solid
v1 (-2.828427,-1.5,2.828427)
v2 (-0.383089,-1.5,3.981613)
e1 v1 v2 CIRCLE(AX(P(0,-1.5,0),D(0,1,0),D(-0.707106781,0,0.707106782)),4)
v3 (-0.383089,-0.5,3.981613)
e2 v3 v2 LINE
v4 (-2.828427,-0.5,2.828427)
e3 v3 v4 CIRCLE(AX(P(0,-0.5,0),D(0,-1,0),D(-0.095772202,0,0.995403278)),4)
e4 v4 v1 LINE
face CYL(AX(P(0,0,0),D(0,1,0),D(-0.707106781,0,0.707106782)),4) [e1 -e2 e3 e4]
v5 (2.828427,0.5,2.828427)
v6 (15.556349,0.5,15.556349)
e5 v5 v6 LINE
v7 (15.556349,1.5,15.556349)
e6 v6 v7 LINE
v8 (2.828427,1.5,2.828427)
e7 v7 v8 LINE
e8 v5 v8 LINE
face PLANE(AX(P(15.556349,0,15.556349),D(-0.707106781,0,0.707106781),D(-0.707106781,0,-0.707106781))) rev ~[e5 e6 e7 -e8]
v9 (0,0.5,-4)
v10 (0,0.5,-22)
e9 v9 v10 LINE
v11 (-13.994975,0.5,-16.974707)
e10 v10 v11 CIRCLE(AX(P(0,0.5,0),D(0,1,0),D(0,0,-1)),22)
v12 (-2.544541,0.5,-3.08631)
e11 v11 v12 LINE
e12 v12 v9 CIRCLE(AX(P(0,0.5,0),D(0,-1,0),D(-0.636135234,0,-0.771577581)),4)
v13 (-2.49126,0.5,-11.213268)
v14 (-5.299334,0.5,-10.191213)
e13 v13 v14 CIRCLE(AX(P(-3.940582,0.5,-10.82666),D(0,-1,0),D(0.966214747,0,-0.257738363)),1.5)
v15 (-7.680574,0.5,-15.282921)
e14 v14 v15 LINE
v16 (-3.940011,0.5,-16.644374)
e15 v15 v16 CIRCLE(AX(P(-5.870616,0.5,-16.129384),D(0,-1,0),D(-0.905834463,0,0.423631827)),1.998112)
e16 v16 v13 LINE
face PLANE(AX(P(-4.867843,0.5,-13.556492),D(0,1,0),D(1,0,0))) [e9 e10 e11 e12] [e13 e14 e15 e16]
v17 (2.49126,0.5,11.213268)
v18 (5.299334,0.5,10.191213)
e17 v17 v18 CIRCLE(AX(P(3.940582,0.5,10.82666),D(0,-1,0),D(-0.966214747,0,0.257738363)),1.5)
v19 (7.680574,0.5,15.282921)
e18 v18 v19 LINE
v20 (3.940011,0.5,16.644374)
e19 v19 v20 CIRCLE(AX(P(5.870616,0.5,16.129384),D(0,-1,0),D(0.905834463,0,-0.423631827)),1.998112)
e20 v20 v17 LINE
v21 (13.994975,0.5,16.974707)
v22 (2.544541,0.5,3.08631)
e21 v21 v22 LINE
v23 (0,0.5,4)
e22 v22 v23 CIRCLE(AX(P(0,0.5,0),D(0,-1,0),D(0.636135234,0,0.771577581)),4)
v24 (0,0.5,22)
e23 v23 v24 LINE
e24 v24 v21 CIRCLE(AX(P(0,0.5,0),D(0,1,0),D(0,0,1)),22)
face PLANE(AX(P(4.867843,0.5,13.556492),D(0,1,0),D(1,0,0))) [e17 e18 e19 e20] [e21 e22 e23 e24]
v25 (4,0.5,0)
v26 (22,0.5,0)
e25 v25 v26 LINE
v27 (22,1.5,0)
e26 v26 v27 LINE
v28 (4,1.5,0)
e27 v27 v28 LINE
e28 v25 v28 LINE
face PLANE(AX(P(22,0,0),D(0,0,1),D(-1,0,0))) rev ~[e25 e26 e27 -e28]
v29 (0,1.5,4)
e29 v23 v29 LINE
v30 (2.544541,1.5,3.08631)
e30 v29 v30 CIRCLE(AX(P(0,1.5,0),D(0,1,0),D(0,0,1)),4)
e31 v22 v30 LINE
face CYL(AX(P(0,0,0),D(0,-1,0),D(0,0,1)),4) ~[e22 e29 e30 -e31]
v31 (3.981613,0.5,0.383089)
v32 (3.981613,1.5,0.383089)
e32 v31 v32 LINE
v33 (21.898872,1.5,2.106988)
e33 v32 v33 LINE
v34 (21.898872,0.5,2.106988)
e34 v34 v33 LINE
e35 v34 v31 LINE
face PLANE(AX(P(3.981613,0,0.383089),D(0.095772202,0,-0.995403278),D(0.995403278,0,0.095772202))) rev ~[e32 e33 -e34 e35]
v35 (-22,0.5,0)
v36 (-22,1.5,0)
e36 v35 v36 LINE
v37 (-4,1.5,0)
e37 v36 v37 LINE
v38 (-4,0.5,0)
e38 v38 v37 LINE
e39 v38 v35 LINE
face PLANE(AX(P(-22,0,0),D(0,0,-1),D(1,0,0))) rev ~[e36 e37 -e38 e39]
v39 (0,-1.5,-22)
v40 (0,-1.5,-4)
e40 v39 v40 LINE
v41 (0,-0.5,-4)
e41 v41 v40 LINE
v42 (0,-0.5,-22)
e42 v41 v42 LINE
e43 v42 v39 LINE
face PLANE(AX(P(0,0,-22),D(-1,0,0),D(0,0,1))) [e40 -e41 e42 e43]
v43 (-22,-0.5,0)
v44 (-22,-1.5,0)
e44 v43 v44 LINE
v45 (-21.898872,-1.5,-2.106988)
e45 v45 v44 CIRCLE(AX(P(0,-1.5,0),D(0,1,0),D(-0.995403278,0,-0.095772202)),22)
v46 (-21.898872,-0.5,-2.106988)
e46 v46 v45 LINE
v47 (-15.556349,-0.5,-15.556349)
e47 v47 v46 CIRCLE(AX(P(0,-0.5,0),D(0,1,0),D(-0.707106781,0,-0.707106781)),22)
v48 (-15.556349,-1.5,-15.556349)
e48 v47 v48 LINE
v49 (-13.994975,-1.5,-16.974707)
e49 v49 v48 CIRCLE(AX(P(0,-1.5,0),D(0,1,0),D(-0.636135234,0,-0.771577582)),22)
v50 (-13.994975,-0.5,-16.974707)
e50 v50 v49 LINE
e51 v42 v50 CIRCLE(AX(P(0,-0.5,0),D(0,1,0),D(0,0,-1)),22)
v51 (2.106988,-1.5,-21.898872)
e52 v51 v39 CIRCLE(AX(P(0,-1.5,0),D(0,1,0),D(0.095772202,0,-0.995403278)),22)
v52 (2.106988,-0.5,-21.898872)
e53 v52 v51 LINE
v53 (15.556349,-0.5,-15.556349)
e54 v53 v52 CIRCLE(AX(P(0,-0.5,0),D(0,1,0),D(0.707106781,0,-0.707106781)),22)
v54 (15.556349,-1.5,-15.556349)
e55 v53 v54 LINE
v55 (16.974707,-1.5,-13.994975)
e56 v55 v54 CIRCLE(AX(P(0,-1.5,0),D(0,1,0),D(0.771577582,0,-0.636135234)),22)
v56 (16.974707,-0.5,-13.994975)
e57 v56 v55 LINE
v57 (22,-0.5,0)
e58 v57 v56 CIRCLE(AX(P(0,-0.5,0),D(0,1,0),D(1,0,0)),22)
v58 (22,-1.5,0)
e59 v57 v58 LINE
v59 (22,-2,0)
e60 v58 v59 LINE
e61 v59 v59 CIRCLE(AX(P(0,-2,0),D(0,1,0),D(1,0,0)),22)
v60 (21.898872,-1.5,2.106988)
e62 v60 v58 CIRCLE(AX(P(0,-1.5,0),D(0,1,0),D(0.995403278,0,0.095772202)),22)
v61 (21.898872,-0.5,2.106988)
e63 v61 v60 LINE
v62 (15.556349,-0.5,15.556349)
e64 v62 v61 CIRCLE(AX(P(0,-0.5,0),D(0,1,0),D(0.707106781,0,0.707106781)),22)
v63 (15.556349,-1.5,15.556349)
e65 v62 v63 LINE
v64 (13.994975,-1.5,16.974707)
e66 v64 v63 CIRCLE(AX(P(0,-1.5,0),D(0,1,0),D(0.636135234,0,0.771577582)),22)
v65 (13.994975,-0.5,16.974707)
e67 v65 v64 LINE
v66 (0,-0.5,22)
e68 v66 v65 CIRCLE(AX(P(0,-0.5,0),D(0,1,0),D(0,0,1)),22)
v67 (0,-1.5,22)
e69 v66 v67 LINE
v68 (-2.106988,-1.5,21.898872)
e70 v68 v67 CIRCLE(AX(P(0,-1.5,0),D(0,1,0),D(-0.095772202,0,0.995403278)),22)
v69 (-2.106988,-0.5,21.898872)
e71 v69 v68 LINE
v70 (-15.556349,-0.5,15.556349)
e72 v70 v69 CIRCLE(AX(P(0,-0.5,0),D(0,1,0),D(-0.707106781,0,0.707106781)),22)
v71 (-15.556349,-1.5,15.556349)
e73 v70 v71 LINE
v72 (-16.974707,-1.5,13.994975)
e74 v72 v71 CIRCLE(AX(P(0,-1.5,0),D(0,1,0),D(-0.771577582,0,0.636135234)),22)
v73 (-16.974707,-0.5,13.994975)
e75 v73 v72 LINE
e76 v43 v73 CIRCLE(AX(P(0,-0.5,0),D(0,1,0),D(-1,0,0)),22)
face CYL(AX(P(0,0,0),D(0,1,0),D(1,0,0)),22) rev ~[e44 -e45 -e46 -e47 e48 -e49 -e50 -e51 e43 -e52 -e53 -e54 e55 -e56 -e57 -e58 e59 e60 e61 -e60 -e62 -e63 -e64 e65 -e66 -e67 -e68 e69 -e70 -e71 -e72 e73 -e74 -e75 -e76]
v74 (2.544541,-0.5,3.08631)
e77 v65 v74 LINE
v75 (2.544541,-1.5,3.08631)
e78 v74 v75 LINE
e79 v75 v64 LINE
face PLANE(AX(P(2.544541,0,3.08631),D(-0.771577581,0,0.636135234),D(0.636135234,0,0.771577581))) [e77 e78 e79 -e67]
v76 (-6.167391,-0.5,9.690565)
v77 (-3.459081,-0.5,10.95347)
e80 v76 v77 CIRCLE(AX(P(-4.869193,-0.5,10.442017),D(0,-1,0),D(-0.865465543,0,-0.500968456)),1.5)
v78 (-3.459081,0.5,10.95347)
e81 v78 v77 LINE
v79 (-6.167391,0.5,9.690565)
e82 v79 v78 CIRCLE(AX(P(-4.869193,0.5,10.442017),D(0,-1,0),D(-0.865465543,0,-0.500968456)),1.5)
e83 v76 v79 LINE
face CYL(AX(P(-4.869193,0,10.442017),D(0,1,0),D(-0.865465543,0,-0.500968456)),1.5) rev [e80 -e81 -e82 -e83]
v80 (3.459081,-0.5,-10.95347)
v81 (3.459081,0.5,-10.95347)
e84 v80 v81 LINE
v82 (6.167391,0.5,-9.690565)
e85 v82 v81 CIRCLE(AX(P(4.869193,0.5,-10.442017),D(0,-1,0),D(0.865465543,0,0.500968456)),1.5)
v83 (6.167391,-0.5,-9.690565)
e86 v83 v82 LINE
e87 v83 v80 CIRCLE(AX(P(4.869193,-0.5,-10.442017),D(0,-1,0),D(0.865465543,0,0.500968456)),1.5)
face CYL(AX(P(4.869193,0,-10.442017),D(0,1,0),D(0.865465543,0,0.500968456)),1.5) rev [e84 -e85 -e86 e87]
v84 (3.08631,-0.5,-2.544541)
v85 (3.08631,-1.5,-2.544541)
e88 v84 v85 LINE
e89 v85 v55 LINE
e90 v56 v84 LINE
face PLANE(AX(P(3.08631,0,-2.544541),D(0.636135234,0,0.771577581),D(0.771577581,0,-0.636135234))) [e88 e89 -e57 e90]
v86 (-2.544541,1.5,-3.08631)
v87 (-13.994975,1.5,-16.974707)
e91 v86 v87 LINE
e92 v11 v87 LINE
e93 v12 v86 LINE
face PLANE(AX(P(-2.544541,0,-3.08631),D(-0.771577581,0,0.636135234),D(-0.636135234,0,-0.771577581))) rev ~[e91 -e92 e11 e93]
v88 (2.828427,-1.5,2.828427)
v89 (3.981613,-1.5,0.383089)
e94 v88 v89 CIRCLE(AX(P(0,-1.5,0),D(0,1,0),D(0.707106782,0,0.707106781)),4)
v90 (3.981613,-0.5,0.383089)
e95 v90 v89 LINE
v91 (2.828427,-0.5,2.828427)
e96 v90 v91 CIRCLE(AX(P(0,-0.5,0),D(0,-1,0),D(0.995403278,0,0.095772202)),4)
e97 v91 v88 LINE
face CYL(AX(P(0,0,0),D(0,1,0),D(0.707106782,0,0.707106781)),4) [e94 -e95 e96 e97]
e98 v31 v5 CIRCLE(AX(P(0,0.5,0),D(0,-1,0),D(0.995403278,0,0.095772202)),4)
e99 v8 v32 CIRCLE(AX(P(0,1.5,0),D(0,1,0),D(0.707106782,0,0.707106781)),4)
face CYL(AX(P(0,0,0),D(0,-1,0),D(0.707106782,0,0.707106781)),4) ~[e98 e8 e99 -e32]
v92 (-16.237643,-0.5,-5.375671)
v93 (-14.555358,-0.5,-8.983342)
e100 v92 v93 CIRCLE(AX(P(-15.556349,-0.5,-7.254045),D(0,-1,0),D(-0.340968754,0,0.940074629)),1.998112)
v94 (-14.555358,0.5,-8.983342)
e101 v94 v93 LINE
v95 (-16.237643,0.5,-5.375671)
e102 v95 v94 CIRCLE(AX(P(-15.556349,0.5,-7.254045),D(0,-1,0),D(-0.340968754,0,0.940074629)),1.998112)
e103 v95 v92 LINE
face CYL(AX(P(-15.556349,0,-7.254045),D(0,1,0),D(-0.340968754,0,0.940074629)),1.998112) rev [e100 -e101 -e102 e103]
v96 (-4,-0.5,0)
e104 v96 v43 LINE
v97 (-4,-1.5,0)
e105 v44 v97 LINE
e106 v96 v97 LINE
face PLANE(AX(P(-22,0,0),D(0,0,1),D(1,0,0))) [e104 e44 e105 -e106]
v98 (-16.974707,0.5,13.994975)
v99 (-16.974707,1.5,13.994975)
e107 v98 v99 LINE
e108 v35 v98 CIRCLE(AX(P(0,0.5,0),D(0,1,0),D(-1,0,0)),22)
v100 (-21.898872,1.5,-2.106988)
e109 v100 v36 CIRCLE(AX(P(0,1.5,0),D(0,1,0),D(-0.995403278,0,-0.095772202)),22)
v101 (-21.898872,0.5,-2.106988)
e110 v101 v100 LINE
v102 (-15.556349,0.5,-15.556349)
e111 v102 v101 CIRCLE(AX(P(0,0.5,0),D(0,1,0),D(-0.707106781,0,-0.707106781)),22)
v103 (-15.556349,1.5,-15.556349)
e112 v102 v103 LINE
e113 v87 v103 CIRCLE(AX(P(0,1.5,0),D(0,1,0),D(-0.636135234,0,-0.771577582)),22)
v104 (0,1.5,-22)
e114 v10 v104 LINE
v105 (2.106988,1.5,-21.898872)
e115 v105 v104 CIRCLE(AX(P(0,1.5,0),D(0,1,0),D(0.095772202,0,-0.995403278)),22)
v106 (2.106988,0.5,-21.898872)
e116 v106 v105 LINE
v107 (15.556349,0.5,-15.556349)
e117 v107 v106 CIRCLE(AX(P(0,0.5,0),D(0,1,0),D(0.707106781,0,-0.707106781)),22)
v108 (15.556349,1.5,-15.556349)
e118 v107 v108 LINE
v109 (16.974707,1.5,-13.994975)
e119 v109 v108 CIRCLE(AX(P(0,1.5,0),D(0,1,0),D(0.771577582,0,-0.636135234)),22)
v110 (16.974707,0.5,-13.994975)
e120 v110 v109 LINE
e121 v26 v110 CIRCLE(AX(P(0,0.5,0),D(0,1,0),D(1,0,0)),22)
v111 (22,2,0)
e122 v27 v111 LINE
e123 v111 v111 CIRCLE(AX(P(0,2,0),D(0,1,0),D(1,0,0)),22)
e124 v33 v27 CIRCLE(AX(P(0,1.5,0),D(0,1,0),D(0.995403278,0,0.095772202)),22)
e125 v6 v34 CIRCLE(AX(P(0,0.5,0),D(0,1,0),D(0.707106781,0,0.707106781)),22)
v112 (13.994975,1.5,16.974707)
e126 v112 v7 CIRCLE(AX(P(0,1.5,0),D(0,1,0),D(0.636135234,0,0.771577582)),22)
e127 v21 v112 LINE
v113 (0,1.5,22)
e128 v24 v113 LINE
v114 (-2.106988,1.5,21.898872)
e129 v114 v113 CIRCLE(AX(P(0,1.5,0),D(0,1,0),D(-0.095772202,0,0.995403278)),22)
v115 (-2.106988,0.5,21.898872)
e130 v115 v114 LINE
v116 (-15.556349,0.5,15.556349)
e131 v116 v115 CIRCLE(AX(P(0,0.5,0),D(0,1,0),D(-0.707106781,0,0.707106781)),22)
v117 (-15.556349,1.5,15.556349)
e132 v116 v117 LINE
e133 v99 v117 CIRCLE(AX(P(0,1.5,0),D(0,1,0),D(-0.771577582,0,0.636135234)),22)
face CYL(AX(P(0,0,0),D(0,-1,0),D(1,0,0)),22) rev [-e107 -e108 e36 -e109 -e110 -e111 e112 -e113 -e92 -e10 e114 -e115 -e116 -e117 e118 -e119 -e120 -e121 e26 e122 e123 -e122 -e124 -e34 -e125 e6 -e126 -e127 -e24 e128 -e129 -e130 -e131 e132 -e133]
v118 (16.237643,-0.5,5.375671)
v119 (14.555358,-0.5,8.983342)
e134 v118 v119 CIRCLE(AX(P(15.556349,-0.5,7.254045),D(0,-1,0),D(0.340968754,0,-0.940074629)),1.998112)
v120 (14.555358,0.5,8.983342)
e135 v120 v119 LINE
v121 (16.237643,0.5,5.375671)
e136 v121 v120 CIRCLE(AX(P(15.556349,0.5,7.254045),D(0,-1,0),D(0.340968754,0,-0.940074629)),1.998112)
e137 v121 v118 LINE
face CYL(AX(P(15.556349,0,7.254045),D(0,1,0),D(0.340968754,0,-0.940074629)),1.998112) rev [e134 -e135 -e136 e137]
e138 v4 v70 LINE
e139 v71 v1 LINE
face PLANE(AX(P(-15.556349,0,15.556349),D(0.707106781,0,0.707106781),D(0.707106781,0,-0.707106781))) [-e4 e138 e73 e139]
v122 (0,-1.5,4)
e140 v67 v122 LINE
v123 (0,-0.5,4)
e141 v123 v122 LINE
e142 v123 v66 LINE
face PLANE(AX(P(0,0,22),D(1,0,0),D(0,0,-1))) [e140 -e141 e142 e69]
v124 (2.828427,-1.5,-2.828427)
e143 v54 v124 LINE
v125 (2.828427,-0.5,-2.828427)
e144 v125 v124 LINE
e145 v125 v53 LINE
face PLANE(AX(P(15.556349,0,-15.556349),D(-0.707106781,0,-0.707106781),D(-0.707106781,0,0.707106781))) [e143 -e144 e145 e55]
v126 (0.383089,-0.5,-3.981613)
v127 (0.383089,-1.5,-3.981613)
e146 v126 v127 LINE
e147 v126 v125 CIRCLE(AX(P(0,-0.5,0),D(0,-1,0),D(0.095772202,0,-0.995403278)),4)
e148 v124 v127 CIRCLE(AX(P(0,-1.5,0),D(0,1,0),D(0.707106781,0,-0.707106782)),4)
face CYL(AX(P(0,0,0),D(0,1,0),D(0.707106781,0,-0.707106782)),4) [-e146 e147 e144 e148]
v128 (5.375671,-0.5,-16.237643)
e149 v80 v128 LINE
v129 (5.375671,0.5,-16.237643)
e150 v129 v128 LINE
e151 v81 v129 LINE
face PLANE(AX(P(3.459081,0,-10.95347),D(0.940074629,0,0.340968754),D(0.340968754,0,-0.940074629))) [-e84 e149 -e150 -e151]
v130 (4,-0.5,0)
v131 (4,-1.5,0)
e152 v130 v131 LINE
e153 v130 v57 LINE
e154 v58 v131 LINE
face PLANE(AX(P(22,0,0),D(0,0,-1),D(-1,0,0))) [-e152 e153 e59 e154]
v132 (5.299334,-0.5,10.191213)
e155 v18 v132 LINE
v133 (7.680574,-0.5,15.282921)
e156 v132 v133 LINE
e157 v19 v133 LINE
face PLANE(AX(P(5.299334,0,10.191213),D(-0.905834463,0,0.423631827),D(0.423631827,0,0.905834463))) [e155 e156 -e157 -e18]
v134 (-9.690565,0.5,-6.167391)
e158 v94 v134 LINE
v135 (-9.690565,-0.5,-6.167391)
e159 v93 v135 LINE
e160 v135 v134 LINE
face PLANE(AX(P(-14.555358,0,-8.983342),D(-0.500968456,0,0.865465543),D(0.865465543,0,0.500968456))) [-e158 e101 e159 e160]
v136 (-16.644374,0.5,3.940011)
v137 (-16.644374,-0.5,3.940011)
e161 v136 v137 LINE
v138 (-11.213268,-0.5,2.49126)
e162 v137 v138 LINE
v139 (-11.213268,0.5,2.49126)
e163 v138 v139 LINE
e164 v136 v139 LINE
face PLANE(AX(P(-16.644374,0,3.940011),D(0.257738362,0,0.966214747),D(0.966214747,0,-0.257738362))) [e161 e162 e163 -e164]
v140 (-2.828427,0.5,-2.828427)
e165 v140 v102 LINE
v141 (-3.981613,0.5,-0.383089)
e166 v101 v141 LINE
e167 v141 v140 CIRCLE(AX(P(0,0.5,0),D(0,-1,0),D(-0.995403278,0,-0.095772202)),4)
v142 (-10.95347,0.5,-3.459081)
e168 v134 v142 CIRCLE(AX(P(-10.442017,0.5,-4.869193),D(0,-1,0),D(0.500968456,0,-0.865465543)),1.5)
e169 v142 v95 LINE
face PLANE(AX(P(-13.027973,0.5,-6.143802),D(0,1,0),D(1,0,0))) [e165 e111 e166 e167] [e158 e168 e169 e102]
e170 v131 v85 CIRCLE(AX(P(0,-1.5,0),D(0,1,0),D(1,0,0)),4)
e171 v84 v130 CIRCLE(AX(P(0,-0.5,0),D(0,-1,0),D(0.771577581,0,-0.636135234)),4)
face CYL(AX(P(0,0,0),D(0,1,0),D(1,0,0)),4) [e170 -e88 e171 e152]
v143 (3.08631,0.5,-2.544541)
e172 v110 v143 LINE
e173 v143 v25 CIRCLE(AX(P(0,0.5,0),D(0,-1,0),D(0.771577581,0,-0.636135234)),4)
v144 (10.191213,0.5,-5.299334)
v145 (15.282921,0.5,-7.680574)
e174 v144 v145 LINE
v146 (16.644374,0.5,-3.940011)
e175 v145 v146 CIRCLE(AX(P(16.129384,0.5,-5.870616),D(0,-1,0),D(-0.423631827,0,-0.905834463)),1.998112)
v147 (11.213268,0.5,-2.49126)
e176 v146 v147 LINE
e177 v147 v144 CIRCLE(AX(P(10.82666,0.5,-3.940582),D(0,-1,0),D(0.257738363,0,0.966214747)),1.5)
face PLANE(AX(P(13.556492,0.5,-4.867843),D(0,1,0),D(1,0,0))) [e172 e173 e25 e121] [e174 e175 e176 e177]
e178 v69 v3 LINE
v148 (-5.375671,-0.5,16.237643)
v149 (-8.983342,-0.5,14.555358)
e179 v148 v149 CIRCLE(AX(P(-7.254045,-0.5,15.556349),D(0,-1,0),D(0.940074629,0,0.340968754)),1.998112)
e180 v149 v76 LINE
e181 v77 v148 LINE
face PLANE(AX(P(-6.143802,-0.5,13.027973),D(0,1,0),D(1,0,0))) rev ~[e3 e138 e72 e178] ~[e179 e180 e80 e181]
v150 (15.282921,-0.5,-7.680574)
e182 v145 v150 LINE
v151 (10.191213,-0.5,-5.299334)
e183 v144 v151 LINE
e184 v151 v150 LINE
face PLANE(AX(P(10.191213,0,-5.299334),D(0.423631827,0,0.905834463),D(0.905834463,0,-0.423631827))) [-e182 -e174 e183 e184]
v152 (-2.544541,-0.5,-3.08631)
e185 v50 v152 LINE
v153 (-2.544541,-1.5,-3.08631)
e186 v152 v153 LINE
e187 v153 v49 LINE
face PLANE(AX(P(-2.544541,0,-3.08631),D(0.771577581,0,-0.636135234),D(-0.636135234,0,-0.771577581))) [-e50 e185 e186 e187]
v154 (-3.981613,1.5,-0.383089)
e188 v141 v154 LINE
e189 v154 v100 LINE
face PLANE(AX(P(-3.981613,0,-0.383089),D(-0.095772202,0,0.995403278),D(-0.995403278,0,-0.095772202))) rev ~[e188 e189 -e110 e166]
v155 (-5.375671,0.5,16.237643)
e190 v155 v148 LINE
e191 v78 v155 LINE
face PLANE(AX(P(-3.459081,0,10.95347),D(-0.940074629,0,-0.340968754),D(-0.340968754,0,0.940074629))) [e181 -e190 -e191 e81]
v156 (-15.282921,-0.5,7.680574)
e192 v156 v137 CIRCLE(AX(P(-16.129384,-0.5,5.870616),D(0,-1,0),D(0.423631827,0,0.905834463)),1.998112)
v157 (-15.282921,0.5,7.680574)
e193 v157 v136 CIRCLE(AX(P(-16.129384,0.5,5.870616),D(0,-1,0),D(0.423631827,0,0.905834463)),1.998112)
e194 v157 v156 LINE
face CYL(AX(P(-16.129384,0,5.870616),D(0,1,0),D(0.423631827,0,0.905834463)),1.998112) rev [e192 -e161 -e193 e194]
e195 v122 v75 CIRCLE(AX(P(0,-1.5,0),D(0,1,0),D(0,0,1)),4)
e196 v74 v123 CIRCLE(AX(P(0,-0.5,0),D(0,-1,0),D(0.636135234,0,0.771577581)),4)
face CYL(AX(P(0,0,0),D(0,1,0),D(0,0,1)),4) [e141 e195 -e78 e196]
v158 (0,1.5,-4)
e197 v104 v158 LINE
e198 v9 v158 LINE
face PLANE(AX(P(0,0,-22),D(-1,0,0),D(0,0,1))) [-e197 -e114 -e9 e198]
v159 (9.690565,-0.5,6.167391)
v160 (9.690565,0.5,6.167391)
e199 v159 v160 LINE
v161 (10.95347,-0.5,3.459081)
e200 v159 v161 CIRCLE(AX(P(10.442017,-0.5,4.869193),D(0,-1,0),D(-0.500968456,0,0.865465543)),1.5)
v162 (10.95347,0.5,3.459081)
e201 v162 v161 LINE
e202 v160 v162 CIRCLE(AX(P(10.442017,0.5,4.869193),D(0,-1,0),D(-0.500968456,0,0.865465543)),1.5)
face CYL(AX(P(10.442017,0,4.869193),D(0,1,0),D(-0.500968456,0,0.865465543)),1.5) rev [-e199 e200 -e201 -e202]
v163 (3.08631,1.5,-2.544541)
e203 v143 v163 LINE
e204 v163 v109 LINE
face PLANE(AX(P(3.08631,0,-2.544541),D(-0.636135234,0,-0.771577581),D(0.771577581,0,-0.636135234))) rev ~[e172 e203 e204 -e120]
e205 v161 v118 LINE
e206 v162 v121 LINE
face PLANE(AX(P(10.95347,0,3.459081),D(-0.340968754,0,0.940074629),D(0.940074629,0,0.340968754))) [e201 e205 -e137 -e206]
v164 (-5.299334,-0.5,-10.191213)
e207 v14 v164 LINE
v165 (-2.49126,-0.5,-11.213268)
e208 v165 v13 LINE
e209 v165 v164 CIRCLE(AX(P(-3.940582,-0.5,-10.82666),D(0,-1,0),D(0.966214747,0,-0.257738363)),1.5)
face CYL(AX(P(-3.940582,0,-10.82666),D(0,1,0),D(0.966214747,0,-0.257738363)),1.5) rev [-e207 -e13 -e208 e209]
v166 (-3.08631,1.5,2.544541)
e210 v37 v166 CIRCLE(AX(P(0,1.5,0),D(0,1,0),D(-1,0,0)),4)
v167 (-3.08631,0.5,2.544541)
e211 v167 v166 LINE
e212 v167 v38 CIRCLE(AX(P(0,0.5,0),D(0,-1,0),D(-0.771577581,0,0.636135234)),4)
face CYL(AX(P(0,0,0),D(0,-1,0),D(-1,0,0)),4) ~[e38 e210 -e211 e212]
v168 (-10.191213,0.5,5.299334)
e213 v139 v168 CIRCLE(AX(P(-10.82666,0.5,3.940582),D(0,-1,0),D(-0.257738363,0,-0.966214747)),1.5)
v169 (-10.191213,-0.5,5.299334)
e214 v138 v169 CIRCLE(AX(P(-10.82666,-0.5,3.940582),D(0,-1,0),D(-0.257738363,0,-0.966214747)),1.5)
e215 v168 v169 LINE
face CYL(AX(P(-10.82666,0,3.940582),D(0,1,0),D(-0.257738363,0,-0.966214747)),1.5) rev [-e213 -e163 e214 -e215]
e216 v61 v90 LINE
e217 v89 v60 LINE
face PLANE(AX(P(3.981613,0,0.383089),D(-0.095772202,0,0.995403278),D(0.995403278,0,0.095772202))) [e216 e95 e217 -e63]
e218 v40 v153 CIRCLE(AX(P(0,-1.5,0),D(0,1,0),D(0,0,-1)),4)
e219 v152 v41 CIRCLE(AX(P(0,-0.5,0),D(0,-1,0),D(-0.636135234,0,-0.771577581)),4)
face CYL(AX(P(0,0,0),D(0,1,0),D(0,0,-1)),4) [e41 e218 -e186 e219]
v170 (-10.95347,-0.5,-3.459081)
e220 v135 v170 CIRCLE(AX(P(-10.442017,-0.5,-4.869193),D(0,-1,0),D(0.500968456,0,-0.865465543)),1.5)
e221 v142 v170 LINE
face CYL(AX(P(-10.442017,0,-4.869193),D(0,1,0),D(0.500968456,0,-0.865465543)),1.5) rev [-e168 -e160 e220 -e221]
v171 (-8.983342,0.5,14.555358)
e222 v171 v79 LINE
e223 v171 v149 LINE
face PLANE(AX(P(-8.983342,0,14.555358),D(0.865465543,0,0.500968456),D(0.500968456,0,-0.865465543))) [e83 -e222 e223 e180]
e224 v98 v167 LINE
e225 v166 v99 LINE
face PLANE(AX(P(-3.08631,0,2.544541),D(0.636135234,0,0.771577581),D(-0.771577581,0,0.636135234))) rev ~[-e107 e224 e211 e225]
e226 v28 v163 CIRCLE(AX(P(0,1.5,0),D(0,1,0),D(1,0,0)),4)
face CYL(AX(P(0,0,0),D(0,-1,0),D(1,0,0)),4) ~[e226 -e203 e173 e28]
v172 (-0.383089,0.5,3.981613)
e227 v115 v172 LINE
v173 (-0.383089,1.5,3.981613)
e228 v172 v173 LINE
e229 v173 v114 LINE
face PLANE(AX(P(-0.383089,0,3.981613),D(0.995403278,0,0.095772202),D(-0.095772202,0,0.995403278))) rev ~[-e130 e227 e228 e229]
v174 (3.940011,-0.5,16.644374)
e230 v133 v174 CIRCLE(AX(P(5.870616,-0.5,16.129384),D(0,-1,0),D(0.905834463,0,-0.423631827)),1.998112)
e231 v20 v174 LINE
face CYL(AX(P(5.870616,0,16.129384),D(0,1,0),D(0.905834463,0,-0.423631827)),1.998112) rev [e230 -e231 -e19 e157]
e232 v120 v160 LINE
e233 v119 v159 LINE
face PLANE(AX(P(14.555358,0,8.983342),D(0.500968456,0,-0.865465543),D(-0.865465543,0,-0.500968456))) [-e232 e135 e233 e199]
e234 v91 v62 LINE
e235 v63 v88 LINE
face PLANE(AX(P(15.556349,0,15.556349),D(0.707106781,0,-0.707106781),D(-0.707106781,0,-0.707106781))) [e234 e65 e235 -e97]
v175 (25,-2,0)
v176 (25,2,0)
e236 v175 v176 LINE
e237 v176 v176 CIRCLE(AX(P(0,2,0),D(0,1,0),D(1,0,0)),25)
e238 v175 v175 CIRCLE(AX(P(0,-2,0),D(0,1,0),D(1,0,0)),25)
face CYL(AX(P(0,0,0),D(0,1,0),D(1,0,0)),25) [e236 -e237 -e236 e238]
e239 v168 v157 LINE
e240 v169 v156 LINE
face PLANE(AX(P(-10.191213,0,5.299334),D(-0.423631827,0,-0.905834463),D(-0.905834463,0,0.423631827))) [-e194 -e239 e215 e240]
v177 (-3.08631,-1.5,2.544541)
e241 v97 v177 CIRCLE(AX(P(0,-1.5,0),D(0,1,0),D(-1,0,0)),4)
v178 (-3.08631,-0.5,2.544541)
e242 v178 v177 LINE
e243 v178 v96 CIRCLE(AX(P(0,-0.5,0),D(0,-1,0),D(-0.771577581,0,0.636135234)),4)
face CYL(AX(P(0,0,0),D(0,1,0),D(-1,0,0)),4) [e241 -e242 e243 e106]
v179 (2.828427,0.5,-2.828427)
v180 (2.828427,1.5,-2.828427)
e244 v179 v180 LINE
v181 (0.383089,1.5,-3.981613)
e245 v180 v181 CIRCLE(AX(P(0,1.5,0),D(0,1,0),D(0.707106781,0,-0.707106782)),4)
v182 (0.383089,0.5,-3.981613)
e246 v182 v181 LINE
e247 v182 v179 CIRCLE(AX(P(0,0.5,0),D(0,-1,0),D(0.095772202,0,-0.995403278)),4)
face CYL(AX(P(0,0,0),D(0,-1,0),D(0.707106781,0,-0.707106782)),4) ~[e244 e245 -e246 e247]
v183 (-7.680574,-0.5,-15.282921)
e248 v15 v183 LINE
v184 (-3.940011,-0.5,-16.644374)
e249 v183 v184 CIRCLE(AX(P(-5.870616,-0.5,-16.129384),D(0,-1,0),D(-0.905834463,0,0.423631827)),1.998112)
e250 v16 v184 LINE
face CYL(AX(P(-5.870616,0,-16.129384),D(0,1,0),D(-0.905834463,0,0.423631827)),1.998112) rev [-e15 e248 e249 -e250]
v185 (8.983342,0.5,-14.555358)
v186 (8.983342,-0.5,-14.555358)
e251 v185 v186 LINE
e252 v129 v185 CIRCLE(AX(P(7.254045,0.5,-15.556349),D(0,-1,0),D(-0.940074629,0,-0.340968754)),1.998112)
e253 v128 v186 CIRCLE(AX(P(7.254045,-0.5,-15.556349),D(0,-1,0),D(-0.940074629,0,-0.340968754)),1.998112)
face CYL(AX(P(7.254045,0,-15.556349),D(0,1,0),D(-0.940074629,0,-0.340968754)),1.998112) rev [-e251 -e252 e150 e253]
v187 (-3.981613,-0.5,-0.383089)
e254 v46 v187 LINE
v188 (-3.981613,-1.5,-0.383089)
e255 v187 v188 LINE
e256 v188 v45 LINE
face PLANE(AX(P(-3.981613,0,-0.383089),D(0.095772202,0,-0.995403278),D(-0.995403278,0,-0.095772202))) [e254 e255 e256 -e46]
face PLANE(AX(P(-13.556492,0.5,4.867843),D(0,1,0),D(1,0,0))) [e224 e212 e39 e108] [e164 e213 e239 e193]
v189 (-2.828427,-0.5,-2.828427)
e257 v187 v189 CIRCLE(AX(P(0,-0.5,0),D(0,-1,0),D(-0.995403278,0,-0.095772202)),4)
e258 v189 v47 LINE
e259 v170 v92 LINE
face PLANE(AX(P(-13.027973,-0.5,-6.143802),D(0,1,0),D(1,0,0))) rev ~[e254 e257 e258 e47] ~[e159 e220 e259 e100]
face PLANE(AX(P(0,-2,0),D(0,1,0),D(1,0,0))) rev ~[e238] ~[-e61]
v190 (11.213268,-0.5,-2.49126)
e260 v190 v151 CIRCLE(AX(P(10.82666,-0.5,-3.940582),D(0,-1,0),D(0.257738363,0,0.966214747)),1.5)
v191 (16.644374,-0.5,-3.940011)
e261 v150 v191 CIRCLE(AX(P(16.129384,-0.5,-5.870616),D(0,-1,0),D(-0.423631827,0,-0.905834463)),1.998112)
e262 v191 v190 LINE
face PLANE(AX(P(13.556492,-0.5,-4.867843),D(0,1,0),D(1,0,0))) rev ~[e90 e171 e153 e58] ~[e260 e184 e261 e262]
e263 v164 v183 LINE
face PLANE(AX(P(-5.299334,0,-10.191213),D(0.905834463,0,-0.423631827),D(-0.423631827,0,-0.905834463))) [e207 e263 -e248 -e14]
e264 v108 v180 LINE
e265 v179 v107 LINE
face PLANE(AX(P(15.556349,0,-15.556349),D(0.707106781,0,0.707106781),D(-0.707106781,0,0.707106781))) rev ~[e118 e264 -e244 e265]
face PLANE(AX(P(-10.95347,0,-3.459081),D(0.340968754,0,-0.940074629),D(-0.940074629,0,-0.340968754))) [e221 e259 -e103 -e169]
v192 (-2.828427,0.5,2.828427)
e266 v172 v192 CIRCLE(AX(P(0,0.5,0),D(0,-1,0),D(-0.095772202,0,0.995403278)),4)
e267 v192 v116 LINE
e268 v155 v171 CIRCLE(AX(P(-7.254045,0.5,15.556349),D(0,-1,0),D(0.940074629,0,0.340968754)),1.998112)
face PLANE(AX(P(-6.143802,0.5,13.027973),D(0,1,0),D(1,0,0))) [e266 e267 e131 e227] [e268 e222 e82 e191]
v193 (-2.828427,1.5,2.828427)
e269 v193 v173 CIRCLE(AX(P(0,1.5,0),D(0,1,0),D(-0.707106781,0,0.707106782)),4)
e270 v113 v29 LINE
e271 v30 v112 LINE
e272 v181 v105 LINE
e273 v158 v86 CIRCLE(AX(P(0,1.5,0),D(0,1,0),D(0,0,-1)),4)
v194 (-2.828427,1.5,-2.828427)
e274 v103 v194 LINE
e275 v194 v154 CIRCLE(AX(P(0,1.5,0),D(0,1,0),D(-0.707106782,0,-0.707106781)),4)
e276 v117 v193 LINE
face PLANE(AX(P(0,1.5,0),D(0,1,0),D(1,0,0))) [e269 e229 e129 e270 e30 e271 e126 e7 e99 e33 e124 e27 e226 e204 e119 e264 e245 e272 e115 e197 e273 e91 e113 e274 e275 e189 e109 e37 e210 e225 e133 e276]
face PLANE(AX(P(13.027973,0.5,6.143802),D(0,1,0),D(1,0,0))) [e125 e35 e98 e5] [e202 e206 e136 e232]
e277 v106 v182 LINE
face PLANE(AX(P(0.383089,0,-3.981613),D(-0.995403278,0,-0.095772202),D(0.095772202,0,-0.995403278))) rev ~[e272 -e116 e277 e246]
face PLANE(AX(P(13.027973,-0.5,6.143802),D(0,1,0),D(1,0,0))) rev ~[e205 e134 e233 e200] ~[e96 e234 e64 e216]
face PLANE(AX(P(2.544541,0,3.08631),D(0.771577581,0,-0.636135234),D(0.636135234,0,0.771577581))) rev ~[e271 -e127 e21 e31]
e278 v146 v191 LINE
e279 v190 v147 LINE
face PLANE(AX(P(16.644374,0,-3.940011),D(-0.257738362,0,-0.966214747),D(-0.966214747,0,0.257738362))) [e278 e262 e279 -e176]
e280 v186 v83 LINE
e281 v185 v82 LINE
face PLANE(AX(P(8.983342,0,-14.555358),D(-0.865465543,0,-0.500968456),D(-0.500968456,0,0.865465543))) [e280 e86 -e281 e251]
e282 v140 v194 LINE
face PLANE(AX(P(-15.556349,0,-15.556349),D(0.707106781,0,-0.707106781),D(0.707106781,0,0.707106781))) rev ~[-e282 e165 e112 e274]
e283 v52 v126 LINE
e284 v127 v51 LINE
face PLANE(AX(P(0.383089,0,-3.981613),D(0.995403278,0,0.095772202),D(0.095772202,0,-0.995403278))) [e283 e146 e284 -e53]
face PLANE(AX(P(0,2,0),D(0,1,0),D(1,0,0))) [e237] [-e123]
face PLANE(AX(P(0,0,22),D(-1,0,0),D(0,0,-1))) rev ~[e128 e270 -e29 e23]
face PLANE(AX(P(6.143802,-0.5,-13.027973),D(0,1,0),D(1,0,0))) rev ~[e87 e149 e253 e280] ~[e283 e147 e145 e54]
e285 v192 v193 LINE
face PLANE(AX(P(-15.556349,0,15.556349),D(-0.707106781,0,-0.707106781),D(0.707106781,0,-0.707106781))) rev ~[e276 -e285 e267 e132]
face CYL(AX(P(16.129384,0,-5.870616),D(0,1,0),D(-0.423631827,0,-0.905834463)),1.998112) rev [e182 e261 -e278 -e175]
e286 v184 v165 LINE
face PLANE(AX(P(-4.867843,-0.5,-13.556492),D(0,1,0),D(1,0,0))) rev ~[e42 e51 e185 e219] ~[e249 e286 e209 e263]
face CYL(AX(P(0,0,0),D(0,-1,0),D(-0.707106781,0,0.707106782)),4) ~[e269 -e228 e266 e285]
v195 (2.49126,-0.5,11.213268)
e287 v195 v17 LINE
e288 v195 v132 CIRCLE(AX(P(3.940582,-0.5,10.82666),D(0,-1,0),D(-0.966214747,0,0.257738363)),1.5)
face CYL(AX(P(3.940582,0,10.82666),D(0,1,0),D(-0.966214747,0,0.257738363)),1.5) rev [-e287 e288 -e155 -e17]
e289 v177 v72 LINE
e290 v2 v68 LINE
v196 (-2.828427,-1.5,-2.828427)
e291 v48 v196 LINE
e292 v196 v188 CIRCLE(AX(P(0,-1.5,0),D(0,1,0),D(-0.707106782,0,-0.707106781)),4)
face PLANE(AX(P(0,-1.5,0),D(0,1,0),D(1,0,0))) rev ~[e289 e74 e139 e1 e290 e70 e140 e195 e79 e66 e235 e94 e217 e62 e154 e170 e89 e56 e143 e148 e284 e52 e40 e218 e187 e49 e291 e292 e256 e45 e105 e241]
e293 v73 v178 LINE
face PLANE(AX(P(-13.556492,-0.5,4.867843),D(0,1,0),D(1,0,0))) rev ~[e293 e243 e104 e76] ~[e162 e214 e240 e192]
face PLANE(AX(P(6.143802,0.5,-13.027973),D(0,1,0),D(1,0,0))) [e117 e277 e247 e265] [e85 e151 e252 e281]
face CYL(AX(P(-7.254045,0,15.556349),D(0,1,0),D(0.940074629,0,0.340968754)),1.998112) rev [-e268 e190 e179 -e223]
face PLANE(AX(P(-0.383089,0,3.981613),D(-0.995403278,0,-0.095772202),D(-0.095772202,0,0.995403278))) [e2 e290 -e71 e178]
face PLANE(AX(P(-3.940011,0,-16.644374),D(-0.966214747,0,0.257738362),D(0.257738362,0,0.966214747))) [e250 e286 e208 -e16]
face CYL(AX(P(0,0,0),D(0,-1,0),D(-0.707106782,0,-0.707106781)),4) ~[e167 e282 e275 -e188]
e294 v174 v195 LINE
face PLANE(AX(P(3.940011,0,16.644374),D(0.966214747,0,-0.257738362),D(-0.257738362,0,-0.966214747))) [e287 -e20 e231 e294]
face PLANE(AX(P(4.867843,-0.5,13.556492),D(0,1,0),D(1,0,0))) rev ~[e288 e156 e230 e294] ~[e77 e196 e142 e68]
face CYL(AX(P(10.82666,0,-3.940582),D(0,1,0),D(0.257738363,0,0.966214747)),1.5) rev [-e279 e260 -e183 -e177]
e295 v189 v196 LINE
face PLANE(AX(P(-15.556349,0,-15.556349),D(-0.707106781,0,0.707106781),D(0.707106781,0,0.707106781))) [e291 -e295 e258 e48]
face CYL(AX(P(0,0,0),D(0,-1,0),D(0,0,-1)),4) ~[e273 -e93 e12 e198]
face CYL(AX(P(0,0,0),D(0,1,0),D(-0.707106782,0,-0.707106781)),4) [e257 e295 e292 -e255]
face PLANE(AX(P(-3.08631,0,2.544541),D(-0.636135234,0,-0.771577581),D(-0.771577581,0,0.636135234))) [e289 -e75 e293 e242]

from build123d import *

# Parameters (mm, degrees)
BOSS_EXTRUDE2_DEPTH      = 2
BOSS_EXTRUDE2_DEPTH_BACK = 2
SKETCH1_R                = 25
SKETCH1_R_2              = 22
BOSS_EXTRUDE3_DEPTH      = 1.5
BOSS_EXTRUDE3_DEPTH_BACK = 1.5
BOSS_EXTRUDE5_DEPTH      = 0.5
BOSS_EXTRUDE5_DEPTH_BACK = 0.5


with BuildPart() as part:
    # Sketch1 → Boss-Extrude2 (new, two sides: drawn at the far end of the back side and taken through both)
    with BuildSketch(Plane(origin=(0, 0, 0), x_dir=(1, 0, 0), z_dir=(0, 1, 0)).offset(-BOSS_EXTRUDE2_DEPTH_BACK)):
        Circle(SKETCH1_R)
        Circle(SKETCH1_R_2, mode=Mode.SUBTRACT)
    extrude(amount=BOSS_EXTRUDE2_DEPTH + BOSS_EXTRUDE2_DEPTH_BACK)

    # Sketch1<5> → Boss-Extrude3 (add, two sides: drawn at the far end of the back side and taken through both)
    with BuildSketch(Plane(origin=(0, 0, 0), x_dir=(1, 0, 0), z_dir=(0, 1, 0)).offset(-BOSS_EXTRUDE3_DEPTH_BACK)):
        with BuildLine():
            Line((0, 22), (0, 4))
            ThreePointArc((0, 4), (-1.351805959, 3.764654121), (-2.544540937, 3.086310325))
            Line((-2.544540937, 3.086310325), (-13.994975151, 16.974706787))
            ThreePointArc((-13.994975151, 16.974706787), (-14.792671398, 16.284252298), (-15.556349186, 15.556349186))
            Line((-15.556349186, 15.556349186), (-2.828427125, 2.828427125))
            ThreePointArc((-2.828427125, 2.828427125), (-3.617883618, 1.706141297), (-3.981613111, 0.383088808))
            Line((-3.981613111, 0.383088808), (-21.89887211, 2.106988446))
            ThreePointArc((-21.89887211, 2.106988446), (-21.974703484, 1.054706969), (-22, 0))
            Line((-22, 0), (-4, 0))
            ThreePointArc((-4, 0), (-3.764654121, -1.351805959), (-3.086310325, -2.544540937))
            Line((-3.086310325, -2.544540937), (-16.974706787, -13.994975151))
            ThreePointArc((-16.974706787, -13.994975151), (-16.284252298, -14.792671398), (-15.556349186, -15.556349186))
            Line((-15.556349186, -15.556349186), (-2.828427125, -2.828427125))
            ThreePointArc((-2.828427125, -2.828427125), (-1.706141297, -3.617883618), (-0.383088808, -3.981613111))
            Line((-0.383088808, -3.981613111), (-2.106988446, -21.89887211))
            ThreePointArc((-2.106988446, -21.89887211), (-1.054706969, -21.974703484), (0, -22))
            Line((0, -22), (0, -4))
            ThreePointArc((0, -4), (1.351805959, -3.764654121), (2.544540937, -3.086310325))
            Line((2.544540937, -3.086310325), (13.994975151, -16.974706787))
            ThreePointArc((13.994975151, -16.974706787), (14.792671398, -16.284252298), (15.556349186, -15.556349186))
            Line((15.556349186, -15.556349186), (2.828427125, -2.828427125))
            ThreePointArc((2.828427125, -2.828427125), (3.617883618, -1.706141297), (3.981613111, -0.383088808))
            Line((3.981613111, -0.383088808), (21.89887211, -2.106988446))
            ThreePointArc((21.89887211, -2.106988446), (21.974703484, -1.054706969), (22, 0))
            Line((22, 0), (4, 0))
            ThreePointArc((4, 0), (3.764654121, 1.351805959), (3.086310325, 2.544540937))
            Line((3.086310325, 2.544540937), (16.974706787, 13.994975151))
            ThreePointArc((16.974706787, 13.994975151), (16.284252298, 14.792671398), (15.556349186, 15.556349186))
            Line((15.556349186, 15.556349186), (2.828427125, 2.828427125))
            ThreePointArc((2.828427125, 2.828427125), (1.706141297, 3.617883618), (0.383088808, 3.981613111))
            Line((0.383088808, 3.981613111), (2.106988446, 21.89887211))
            ThreePointArc((2.106988446, 21.89887211), (1.054706969, 21.974703484), (0, 22))
        make_face()
    extrude(amount=BOSS_EXTRUDE3_DEPTH + BOSS_EXTRUDE3_DEPTH_BACK)

    # Sketch1<7> → Boss-Extrude5 (add, two sides: drawn at the far end of the back side and taken through both)
    # profile 1 of 8: a face of its own
    with BuildSketch(Plane(origin=(0, 0, 0), x_dir=(1, 0, 0), z_dir=(0, 1, 0)).offset(-BOSS_EXTRUDE5_DEPTH_BACK)):
        with BuildLine():
            ThreePointArc((-2.544540937, 3.086310325), (-1.351805959, 3.764654121), (0, 4))
            Line((0, 4), (0, 22))
            ThreePointArc((0, 22), (-7.434932773, 20.705597665), (-13.994975151, 16.974706787))
            Line((-13.994975151, 16.974706787), (-2.544540937, 3.086310325))
        make_face()
        with BuildLine():
            ThreePointArc((-2.491260012, 11.213267971), (-3.427551917, 9.417121496), (-5.299333827, 10.191212687))
            Line((-5.299333827, 10.191212687), (-7.680574112, 15.28292057))
            ThreePointArc((-7.680574112, 15.28292057), (-6.554010177, 18.006994968), (-3.940010864, 16.644374252))
            Line((-3.940010864, 16.644374252), (-2.491260012, 11.213267971))
        make_face(mode=Mode.SUBTRACT)
    # profile 2 of 8: a face of its own
    with BuildSketch(Plane(origin=(0, 0, 0), x_dir=(1, 0, 0), z_dir=(0, 1, 0)).offset(-BOSS_EXTRUDE5_DEPTH_BACK)):
        with BuildLine():
            Line((2.106988446, 21.89887211), (0.383088808, 3.981613111))
            ThreePointArc((0.383088808, 3.981613111), (1.706141297, 3.617883618), (2.828427125, 2.828427125))
            Line((2.828427125, 2.828427125), (15.556349186, 15.556349186))
            ThreePointArc((15.556349186, 15.556349186), (9.383777136, 19.898359899), (2.106988446, 21.89887211))
        make_face()
        with BuildLine():
            ThreePointArc((6.167390973, 9.69056467), (4.235265266, 9.082555673), (3.459080714, 10.953470484))
            Line((3.459080714, 10.953470484), (5.375670734, 16.237642809))
            ThreePointArc((5.375670734, 16.237642809), (8.098483211, 17.367253291), (8.983341502, 14.555358302))
            Line((8.983341502, 14.555358302), (6.167390973, 9.69056467))
        make_face(mode=Mode.SUBTRACT)
    # profile 3 of 8: a face of its own
    with BuildSketch(Plane(origin=(0, 0, 0), x_dir=(1, 0, 0), z_dir=(0, 1, 0)).offset(-BOSS_EXTRUDE5_DEPTH_BACK)):
        with BuildLine():
            ThreePointArc((-3.981613111, 0.383088808), (-3.617883618, 1.706141297), (-2.828427125, 2.828427125))
            Line((-2.828427125, 2.828427125), (-15.556349186, 15.556349186))
            ThreePointArc((-15.556349186, 15.556349186), (-19.898359899, 9.383777136), (-21.89887211, 2.106988446))
            Line((-21.89887211, 2.106988446), (-3.981613111, 0.383088808))
        make_face()
        with BuildLine():
            ThreePointArc((-9.69056467, 6.167390973), (-9.082555673, 4.235265266), (-10.953470484, 3.459080714))
            Line((-10.953470484, 3.459080714), (-16.237642809, 5.375670734))
            ThreePointArc((-16.237642809, 5.375670734), (-17.367253291, 8.098483211), (-14.555358302, 8.983341502))
            Line((-14.555358302, 8.983341502), (-9.69056467, 6.167390973))
        make_face(mode=Mode.SUBTRACT)
    # profile 4 of 8: a face of its own
    with BuildSketch(Plane(origin=(0, 0, 0), x_dir=(1, 0, 0), z_dir=(0, 1, 0)).offset(-BOSS_EXTRUDE5_DEPTH_BACK)):
        with BuildLine():
            Line((16.974706787, 13.994975151), (3.086310325, 2.544540937))
            ThreePointArc((3.086310325, 2.544540937), (3.764654121, 1.351805959), (4, 0))
            Line((4, 0), (22, 0))
            ThreePointArc((22, 0), (20.705597665, 7.434932773), (16.974706787, 13.994975151))
        make_face()
        with BuildLine():
            ThreePointArc((11.213267971, 2.491260012), (9.417121496, 3.427551917), (10.191212687, 5.299333827))
            Line((10.191212687, 5.299333827), (15.28292057, 7.680574112))
            ThreePointArc((15.28292057, 7.680574112), (18.006994968, 6.554010177), (16.644374252, 3.940010864))
            Line((16.644374252, 3.940010864), (11.213267971, 2.491260012))
        make_face(mode=Mode.SUBTRACT)
    # profile 5 of 8: a face of its own
    with BuildSketch(Plane(origin=(0, 0, 0), x_dir=(1, 0, 0), z_dir=(0, 1, 0)).offset(-BOSS_EXTRUDE5_DEPTH_BACK)):
        with BuildLine():
            ThreePointArc((-3.086310325, -2.544540937), (-3.764654121, -1.351805959), (-4, 0))
            Line((-4, 0), (-22, 0))
            ThreePointArc((-22, 0), (-20.705597665, -7.434932773), (-16.974706787, -13.994975151))
            Line((-16.974706787, -13.994975151), (-3.086310325, -2.544540937))
        make_face()
        with BuildLine():
            ThreePointArc((-11.213267971, -2.491260012), (-9.417121496, -3.427551917), (-10.191212687, -5.299333827))
            Line((-10.191212687, -5.299333827), (-15.28292057, -7.680574112))
            ThreePointArc((-15.28292057, -7.680574112), (-18.006994968, -6.554010177), (-16.644374252, -3.940010864))
            Line((-16.644374252, -3.940010864), (-11.213267971, -2.491260012))
        make_face(mode=Mode.SUBTRACT)
    # profile 6 of 8: a face of its own
    with BuildSketch(Plane(origin=(0, 0, 0), x_dir=(1, 0, 0), z_dir=(0, 1, 0)).offset(-BOSS_EXTRUDE5_DEPTH_BACK)):
        with BuildLine():
            Line((21.89887211, -2.106988446), (3.981613111, -0.383088808))
            ThreePointArc((3.981613111, -0.383088808), (3.617883618, -1.706141297), (2.828427125, -2.828427125))
            Line((2.828427125, -2.828427125), (15.556349186, -15.556349186))
            ThreePointArc((15.556349186, -15.556349186), (19.898359899, -9.383777136), (21.89887211, -2.106988446))
        make_face()
        with BuildLine():
            ThreePointArc((9.69056467, -6.167390973), (9.082555673, -4.235265266), (10.953470484, -3.459080714))
            Line((10.953470484, -3.459080714), (16.237642809, -5.375670734))
            ThreePointArc((16.237642809, -5.375670734), (17.367253291, -8.098483211), (14.555358302, -8.983341502))
            Line((14.555358302, -8.983341502), (9.69056467, -6.167390973))
        make_face(mode=Mode.SUBTRACT)
    # profile 7 of 8: a face of its own
    with BuildSketch(Plane(origin=(0, 0, 0), x_dir=(1, 0, 0), z_dir=(0, 1, 0)).offset(-BOSS_EXTRUDE5_DEPTH_BACK)):
        with BuildLine():
            ThreePointArc((-0.383088808, -3.981613111), (-1.706141297, -3.617883618), (-2.828427125, -2.828427125))
            Line((-2.828427125, -2.828427125), (-15.556349186, -15.556349186))
            ThreePointArc((-15.556349186, -15.556349186), (-9.383777136, -19.898359899), (-2.106988446, -21.89887211))
            Line((-2.106988446, -21.89887211), (-0.383088808, -3.981613111))
        make_face()
        with BuildLine():
            ThreePointArc((-6.167390973, -9.69056467), (-4.235265266, -9.082555673), (-3.459080714, -10.953470484))
            Line((-3.459080714, -10.953470484), (-5.375670734, -16.237642809))
            ThreePointArc((-5.375670734, -16.237642809), (-8.098483211, -17.367253291), (-8.983341502, -14.555358302))
            Line((-8.983341502, -14.555358302), (-6.167390973, -9.69056467))
        make_face(mode=Mode.SUBTRACT)
    # profile 8 of 8: a face of its own
    with BuildSketch(Plane(origin=(0, 0, 0), x_dir=(1, 0, 0), z_dir=(0, 1, 0)).offset(-BOSS_EXTRUDE5_DEPTH_BACK)):
        with BuildLine():
            Line((13.994975151, -16.974706787), (2.544540937, -3.086310325))
            ThreePointArc((2.544540937, -3.086310325), (1.351805959, -3.764654121), (0, -4))
            Line((0, -4), (0, -22))
            ThreePointArc((0, -22), (7.434932773, -20.705597665), (13.994975151, -16.974706787))
        make_face()
        with BuildLine():
            ThreePointArc((2.491260012, -11.213267971), (3.427551917, -9.417121496), (5.299333827, -10.191212687))
            Line((5.299333827, -10.191212687), (7.680574112, -15.28292057))
            ThreePointArc((7.680574112, -15.28292057), (6.554010177, -18.006994968), (3.940010864, -16.644374252))
            Line((3.940010864, -16.644374252), (2.491260012, -11.213267971))
        make_face(mode=Mode.SUBTRACT)
    extrude(amount=BOSS_EXTRUDE5_DEPTH + BOSS_EXTRUDE5_DEPTH_BACK)


solid = part.part
